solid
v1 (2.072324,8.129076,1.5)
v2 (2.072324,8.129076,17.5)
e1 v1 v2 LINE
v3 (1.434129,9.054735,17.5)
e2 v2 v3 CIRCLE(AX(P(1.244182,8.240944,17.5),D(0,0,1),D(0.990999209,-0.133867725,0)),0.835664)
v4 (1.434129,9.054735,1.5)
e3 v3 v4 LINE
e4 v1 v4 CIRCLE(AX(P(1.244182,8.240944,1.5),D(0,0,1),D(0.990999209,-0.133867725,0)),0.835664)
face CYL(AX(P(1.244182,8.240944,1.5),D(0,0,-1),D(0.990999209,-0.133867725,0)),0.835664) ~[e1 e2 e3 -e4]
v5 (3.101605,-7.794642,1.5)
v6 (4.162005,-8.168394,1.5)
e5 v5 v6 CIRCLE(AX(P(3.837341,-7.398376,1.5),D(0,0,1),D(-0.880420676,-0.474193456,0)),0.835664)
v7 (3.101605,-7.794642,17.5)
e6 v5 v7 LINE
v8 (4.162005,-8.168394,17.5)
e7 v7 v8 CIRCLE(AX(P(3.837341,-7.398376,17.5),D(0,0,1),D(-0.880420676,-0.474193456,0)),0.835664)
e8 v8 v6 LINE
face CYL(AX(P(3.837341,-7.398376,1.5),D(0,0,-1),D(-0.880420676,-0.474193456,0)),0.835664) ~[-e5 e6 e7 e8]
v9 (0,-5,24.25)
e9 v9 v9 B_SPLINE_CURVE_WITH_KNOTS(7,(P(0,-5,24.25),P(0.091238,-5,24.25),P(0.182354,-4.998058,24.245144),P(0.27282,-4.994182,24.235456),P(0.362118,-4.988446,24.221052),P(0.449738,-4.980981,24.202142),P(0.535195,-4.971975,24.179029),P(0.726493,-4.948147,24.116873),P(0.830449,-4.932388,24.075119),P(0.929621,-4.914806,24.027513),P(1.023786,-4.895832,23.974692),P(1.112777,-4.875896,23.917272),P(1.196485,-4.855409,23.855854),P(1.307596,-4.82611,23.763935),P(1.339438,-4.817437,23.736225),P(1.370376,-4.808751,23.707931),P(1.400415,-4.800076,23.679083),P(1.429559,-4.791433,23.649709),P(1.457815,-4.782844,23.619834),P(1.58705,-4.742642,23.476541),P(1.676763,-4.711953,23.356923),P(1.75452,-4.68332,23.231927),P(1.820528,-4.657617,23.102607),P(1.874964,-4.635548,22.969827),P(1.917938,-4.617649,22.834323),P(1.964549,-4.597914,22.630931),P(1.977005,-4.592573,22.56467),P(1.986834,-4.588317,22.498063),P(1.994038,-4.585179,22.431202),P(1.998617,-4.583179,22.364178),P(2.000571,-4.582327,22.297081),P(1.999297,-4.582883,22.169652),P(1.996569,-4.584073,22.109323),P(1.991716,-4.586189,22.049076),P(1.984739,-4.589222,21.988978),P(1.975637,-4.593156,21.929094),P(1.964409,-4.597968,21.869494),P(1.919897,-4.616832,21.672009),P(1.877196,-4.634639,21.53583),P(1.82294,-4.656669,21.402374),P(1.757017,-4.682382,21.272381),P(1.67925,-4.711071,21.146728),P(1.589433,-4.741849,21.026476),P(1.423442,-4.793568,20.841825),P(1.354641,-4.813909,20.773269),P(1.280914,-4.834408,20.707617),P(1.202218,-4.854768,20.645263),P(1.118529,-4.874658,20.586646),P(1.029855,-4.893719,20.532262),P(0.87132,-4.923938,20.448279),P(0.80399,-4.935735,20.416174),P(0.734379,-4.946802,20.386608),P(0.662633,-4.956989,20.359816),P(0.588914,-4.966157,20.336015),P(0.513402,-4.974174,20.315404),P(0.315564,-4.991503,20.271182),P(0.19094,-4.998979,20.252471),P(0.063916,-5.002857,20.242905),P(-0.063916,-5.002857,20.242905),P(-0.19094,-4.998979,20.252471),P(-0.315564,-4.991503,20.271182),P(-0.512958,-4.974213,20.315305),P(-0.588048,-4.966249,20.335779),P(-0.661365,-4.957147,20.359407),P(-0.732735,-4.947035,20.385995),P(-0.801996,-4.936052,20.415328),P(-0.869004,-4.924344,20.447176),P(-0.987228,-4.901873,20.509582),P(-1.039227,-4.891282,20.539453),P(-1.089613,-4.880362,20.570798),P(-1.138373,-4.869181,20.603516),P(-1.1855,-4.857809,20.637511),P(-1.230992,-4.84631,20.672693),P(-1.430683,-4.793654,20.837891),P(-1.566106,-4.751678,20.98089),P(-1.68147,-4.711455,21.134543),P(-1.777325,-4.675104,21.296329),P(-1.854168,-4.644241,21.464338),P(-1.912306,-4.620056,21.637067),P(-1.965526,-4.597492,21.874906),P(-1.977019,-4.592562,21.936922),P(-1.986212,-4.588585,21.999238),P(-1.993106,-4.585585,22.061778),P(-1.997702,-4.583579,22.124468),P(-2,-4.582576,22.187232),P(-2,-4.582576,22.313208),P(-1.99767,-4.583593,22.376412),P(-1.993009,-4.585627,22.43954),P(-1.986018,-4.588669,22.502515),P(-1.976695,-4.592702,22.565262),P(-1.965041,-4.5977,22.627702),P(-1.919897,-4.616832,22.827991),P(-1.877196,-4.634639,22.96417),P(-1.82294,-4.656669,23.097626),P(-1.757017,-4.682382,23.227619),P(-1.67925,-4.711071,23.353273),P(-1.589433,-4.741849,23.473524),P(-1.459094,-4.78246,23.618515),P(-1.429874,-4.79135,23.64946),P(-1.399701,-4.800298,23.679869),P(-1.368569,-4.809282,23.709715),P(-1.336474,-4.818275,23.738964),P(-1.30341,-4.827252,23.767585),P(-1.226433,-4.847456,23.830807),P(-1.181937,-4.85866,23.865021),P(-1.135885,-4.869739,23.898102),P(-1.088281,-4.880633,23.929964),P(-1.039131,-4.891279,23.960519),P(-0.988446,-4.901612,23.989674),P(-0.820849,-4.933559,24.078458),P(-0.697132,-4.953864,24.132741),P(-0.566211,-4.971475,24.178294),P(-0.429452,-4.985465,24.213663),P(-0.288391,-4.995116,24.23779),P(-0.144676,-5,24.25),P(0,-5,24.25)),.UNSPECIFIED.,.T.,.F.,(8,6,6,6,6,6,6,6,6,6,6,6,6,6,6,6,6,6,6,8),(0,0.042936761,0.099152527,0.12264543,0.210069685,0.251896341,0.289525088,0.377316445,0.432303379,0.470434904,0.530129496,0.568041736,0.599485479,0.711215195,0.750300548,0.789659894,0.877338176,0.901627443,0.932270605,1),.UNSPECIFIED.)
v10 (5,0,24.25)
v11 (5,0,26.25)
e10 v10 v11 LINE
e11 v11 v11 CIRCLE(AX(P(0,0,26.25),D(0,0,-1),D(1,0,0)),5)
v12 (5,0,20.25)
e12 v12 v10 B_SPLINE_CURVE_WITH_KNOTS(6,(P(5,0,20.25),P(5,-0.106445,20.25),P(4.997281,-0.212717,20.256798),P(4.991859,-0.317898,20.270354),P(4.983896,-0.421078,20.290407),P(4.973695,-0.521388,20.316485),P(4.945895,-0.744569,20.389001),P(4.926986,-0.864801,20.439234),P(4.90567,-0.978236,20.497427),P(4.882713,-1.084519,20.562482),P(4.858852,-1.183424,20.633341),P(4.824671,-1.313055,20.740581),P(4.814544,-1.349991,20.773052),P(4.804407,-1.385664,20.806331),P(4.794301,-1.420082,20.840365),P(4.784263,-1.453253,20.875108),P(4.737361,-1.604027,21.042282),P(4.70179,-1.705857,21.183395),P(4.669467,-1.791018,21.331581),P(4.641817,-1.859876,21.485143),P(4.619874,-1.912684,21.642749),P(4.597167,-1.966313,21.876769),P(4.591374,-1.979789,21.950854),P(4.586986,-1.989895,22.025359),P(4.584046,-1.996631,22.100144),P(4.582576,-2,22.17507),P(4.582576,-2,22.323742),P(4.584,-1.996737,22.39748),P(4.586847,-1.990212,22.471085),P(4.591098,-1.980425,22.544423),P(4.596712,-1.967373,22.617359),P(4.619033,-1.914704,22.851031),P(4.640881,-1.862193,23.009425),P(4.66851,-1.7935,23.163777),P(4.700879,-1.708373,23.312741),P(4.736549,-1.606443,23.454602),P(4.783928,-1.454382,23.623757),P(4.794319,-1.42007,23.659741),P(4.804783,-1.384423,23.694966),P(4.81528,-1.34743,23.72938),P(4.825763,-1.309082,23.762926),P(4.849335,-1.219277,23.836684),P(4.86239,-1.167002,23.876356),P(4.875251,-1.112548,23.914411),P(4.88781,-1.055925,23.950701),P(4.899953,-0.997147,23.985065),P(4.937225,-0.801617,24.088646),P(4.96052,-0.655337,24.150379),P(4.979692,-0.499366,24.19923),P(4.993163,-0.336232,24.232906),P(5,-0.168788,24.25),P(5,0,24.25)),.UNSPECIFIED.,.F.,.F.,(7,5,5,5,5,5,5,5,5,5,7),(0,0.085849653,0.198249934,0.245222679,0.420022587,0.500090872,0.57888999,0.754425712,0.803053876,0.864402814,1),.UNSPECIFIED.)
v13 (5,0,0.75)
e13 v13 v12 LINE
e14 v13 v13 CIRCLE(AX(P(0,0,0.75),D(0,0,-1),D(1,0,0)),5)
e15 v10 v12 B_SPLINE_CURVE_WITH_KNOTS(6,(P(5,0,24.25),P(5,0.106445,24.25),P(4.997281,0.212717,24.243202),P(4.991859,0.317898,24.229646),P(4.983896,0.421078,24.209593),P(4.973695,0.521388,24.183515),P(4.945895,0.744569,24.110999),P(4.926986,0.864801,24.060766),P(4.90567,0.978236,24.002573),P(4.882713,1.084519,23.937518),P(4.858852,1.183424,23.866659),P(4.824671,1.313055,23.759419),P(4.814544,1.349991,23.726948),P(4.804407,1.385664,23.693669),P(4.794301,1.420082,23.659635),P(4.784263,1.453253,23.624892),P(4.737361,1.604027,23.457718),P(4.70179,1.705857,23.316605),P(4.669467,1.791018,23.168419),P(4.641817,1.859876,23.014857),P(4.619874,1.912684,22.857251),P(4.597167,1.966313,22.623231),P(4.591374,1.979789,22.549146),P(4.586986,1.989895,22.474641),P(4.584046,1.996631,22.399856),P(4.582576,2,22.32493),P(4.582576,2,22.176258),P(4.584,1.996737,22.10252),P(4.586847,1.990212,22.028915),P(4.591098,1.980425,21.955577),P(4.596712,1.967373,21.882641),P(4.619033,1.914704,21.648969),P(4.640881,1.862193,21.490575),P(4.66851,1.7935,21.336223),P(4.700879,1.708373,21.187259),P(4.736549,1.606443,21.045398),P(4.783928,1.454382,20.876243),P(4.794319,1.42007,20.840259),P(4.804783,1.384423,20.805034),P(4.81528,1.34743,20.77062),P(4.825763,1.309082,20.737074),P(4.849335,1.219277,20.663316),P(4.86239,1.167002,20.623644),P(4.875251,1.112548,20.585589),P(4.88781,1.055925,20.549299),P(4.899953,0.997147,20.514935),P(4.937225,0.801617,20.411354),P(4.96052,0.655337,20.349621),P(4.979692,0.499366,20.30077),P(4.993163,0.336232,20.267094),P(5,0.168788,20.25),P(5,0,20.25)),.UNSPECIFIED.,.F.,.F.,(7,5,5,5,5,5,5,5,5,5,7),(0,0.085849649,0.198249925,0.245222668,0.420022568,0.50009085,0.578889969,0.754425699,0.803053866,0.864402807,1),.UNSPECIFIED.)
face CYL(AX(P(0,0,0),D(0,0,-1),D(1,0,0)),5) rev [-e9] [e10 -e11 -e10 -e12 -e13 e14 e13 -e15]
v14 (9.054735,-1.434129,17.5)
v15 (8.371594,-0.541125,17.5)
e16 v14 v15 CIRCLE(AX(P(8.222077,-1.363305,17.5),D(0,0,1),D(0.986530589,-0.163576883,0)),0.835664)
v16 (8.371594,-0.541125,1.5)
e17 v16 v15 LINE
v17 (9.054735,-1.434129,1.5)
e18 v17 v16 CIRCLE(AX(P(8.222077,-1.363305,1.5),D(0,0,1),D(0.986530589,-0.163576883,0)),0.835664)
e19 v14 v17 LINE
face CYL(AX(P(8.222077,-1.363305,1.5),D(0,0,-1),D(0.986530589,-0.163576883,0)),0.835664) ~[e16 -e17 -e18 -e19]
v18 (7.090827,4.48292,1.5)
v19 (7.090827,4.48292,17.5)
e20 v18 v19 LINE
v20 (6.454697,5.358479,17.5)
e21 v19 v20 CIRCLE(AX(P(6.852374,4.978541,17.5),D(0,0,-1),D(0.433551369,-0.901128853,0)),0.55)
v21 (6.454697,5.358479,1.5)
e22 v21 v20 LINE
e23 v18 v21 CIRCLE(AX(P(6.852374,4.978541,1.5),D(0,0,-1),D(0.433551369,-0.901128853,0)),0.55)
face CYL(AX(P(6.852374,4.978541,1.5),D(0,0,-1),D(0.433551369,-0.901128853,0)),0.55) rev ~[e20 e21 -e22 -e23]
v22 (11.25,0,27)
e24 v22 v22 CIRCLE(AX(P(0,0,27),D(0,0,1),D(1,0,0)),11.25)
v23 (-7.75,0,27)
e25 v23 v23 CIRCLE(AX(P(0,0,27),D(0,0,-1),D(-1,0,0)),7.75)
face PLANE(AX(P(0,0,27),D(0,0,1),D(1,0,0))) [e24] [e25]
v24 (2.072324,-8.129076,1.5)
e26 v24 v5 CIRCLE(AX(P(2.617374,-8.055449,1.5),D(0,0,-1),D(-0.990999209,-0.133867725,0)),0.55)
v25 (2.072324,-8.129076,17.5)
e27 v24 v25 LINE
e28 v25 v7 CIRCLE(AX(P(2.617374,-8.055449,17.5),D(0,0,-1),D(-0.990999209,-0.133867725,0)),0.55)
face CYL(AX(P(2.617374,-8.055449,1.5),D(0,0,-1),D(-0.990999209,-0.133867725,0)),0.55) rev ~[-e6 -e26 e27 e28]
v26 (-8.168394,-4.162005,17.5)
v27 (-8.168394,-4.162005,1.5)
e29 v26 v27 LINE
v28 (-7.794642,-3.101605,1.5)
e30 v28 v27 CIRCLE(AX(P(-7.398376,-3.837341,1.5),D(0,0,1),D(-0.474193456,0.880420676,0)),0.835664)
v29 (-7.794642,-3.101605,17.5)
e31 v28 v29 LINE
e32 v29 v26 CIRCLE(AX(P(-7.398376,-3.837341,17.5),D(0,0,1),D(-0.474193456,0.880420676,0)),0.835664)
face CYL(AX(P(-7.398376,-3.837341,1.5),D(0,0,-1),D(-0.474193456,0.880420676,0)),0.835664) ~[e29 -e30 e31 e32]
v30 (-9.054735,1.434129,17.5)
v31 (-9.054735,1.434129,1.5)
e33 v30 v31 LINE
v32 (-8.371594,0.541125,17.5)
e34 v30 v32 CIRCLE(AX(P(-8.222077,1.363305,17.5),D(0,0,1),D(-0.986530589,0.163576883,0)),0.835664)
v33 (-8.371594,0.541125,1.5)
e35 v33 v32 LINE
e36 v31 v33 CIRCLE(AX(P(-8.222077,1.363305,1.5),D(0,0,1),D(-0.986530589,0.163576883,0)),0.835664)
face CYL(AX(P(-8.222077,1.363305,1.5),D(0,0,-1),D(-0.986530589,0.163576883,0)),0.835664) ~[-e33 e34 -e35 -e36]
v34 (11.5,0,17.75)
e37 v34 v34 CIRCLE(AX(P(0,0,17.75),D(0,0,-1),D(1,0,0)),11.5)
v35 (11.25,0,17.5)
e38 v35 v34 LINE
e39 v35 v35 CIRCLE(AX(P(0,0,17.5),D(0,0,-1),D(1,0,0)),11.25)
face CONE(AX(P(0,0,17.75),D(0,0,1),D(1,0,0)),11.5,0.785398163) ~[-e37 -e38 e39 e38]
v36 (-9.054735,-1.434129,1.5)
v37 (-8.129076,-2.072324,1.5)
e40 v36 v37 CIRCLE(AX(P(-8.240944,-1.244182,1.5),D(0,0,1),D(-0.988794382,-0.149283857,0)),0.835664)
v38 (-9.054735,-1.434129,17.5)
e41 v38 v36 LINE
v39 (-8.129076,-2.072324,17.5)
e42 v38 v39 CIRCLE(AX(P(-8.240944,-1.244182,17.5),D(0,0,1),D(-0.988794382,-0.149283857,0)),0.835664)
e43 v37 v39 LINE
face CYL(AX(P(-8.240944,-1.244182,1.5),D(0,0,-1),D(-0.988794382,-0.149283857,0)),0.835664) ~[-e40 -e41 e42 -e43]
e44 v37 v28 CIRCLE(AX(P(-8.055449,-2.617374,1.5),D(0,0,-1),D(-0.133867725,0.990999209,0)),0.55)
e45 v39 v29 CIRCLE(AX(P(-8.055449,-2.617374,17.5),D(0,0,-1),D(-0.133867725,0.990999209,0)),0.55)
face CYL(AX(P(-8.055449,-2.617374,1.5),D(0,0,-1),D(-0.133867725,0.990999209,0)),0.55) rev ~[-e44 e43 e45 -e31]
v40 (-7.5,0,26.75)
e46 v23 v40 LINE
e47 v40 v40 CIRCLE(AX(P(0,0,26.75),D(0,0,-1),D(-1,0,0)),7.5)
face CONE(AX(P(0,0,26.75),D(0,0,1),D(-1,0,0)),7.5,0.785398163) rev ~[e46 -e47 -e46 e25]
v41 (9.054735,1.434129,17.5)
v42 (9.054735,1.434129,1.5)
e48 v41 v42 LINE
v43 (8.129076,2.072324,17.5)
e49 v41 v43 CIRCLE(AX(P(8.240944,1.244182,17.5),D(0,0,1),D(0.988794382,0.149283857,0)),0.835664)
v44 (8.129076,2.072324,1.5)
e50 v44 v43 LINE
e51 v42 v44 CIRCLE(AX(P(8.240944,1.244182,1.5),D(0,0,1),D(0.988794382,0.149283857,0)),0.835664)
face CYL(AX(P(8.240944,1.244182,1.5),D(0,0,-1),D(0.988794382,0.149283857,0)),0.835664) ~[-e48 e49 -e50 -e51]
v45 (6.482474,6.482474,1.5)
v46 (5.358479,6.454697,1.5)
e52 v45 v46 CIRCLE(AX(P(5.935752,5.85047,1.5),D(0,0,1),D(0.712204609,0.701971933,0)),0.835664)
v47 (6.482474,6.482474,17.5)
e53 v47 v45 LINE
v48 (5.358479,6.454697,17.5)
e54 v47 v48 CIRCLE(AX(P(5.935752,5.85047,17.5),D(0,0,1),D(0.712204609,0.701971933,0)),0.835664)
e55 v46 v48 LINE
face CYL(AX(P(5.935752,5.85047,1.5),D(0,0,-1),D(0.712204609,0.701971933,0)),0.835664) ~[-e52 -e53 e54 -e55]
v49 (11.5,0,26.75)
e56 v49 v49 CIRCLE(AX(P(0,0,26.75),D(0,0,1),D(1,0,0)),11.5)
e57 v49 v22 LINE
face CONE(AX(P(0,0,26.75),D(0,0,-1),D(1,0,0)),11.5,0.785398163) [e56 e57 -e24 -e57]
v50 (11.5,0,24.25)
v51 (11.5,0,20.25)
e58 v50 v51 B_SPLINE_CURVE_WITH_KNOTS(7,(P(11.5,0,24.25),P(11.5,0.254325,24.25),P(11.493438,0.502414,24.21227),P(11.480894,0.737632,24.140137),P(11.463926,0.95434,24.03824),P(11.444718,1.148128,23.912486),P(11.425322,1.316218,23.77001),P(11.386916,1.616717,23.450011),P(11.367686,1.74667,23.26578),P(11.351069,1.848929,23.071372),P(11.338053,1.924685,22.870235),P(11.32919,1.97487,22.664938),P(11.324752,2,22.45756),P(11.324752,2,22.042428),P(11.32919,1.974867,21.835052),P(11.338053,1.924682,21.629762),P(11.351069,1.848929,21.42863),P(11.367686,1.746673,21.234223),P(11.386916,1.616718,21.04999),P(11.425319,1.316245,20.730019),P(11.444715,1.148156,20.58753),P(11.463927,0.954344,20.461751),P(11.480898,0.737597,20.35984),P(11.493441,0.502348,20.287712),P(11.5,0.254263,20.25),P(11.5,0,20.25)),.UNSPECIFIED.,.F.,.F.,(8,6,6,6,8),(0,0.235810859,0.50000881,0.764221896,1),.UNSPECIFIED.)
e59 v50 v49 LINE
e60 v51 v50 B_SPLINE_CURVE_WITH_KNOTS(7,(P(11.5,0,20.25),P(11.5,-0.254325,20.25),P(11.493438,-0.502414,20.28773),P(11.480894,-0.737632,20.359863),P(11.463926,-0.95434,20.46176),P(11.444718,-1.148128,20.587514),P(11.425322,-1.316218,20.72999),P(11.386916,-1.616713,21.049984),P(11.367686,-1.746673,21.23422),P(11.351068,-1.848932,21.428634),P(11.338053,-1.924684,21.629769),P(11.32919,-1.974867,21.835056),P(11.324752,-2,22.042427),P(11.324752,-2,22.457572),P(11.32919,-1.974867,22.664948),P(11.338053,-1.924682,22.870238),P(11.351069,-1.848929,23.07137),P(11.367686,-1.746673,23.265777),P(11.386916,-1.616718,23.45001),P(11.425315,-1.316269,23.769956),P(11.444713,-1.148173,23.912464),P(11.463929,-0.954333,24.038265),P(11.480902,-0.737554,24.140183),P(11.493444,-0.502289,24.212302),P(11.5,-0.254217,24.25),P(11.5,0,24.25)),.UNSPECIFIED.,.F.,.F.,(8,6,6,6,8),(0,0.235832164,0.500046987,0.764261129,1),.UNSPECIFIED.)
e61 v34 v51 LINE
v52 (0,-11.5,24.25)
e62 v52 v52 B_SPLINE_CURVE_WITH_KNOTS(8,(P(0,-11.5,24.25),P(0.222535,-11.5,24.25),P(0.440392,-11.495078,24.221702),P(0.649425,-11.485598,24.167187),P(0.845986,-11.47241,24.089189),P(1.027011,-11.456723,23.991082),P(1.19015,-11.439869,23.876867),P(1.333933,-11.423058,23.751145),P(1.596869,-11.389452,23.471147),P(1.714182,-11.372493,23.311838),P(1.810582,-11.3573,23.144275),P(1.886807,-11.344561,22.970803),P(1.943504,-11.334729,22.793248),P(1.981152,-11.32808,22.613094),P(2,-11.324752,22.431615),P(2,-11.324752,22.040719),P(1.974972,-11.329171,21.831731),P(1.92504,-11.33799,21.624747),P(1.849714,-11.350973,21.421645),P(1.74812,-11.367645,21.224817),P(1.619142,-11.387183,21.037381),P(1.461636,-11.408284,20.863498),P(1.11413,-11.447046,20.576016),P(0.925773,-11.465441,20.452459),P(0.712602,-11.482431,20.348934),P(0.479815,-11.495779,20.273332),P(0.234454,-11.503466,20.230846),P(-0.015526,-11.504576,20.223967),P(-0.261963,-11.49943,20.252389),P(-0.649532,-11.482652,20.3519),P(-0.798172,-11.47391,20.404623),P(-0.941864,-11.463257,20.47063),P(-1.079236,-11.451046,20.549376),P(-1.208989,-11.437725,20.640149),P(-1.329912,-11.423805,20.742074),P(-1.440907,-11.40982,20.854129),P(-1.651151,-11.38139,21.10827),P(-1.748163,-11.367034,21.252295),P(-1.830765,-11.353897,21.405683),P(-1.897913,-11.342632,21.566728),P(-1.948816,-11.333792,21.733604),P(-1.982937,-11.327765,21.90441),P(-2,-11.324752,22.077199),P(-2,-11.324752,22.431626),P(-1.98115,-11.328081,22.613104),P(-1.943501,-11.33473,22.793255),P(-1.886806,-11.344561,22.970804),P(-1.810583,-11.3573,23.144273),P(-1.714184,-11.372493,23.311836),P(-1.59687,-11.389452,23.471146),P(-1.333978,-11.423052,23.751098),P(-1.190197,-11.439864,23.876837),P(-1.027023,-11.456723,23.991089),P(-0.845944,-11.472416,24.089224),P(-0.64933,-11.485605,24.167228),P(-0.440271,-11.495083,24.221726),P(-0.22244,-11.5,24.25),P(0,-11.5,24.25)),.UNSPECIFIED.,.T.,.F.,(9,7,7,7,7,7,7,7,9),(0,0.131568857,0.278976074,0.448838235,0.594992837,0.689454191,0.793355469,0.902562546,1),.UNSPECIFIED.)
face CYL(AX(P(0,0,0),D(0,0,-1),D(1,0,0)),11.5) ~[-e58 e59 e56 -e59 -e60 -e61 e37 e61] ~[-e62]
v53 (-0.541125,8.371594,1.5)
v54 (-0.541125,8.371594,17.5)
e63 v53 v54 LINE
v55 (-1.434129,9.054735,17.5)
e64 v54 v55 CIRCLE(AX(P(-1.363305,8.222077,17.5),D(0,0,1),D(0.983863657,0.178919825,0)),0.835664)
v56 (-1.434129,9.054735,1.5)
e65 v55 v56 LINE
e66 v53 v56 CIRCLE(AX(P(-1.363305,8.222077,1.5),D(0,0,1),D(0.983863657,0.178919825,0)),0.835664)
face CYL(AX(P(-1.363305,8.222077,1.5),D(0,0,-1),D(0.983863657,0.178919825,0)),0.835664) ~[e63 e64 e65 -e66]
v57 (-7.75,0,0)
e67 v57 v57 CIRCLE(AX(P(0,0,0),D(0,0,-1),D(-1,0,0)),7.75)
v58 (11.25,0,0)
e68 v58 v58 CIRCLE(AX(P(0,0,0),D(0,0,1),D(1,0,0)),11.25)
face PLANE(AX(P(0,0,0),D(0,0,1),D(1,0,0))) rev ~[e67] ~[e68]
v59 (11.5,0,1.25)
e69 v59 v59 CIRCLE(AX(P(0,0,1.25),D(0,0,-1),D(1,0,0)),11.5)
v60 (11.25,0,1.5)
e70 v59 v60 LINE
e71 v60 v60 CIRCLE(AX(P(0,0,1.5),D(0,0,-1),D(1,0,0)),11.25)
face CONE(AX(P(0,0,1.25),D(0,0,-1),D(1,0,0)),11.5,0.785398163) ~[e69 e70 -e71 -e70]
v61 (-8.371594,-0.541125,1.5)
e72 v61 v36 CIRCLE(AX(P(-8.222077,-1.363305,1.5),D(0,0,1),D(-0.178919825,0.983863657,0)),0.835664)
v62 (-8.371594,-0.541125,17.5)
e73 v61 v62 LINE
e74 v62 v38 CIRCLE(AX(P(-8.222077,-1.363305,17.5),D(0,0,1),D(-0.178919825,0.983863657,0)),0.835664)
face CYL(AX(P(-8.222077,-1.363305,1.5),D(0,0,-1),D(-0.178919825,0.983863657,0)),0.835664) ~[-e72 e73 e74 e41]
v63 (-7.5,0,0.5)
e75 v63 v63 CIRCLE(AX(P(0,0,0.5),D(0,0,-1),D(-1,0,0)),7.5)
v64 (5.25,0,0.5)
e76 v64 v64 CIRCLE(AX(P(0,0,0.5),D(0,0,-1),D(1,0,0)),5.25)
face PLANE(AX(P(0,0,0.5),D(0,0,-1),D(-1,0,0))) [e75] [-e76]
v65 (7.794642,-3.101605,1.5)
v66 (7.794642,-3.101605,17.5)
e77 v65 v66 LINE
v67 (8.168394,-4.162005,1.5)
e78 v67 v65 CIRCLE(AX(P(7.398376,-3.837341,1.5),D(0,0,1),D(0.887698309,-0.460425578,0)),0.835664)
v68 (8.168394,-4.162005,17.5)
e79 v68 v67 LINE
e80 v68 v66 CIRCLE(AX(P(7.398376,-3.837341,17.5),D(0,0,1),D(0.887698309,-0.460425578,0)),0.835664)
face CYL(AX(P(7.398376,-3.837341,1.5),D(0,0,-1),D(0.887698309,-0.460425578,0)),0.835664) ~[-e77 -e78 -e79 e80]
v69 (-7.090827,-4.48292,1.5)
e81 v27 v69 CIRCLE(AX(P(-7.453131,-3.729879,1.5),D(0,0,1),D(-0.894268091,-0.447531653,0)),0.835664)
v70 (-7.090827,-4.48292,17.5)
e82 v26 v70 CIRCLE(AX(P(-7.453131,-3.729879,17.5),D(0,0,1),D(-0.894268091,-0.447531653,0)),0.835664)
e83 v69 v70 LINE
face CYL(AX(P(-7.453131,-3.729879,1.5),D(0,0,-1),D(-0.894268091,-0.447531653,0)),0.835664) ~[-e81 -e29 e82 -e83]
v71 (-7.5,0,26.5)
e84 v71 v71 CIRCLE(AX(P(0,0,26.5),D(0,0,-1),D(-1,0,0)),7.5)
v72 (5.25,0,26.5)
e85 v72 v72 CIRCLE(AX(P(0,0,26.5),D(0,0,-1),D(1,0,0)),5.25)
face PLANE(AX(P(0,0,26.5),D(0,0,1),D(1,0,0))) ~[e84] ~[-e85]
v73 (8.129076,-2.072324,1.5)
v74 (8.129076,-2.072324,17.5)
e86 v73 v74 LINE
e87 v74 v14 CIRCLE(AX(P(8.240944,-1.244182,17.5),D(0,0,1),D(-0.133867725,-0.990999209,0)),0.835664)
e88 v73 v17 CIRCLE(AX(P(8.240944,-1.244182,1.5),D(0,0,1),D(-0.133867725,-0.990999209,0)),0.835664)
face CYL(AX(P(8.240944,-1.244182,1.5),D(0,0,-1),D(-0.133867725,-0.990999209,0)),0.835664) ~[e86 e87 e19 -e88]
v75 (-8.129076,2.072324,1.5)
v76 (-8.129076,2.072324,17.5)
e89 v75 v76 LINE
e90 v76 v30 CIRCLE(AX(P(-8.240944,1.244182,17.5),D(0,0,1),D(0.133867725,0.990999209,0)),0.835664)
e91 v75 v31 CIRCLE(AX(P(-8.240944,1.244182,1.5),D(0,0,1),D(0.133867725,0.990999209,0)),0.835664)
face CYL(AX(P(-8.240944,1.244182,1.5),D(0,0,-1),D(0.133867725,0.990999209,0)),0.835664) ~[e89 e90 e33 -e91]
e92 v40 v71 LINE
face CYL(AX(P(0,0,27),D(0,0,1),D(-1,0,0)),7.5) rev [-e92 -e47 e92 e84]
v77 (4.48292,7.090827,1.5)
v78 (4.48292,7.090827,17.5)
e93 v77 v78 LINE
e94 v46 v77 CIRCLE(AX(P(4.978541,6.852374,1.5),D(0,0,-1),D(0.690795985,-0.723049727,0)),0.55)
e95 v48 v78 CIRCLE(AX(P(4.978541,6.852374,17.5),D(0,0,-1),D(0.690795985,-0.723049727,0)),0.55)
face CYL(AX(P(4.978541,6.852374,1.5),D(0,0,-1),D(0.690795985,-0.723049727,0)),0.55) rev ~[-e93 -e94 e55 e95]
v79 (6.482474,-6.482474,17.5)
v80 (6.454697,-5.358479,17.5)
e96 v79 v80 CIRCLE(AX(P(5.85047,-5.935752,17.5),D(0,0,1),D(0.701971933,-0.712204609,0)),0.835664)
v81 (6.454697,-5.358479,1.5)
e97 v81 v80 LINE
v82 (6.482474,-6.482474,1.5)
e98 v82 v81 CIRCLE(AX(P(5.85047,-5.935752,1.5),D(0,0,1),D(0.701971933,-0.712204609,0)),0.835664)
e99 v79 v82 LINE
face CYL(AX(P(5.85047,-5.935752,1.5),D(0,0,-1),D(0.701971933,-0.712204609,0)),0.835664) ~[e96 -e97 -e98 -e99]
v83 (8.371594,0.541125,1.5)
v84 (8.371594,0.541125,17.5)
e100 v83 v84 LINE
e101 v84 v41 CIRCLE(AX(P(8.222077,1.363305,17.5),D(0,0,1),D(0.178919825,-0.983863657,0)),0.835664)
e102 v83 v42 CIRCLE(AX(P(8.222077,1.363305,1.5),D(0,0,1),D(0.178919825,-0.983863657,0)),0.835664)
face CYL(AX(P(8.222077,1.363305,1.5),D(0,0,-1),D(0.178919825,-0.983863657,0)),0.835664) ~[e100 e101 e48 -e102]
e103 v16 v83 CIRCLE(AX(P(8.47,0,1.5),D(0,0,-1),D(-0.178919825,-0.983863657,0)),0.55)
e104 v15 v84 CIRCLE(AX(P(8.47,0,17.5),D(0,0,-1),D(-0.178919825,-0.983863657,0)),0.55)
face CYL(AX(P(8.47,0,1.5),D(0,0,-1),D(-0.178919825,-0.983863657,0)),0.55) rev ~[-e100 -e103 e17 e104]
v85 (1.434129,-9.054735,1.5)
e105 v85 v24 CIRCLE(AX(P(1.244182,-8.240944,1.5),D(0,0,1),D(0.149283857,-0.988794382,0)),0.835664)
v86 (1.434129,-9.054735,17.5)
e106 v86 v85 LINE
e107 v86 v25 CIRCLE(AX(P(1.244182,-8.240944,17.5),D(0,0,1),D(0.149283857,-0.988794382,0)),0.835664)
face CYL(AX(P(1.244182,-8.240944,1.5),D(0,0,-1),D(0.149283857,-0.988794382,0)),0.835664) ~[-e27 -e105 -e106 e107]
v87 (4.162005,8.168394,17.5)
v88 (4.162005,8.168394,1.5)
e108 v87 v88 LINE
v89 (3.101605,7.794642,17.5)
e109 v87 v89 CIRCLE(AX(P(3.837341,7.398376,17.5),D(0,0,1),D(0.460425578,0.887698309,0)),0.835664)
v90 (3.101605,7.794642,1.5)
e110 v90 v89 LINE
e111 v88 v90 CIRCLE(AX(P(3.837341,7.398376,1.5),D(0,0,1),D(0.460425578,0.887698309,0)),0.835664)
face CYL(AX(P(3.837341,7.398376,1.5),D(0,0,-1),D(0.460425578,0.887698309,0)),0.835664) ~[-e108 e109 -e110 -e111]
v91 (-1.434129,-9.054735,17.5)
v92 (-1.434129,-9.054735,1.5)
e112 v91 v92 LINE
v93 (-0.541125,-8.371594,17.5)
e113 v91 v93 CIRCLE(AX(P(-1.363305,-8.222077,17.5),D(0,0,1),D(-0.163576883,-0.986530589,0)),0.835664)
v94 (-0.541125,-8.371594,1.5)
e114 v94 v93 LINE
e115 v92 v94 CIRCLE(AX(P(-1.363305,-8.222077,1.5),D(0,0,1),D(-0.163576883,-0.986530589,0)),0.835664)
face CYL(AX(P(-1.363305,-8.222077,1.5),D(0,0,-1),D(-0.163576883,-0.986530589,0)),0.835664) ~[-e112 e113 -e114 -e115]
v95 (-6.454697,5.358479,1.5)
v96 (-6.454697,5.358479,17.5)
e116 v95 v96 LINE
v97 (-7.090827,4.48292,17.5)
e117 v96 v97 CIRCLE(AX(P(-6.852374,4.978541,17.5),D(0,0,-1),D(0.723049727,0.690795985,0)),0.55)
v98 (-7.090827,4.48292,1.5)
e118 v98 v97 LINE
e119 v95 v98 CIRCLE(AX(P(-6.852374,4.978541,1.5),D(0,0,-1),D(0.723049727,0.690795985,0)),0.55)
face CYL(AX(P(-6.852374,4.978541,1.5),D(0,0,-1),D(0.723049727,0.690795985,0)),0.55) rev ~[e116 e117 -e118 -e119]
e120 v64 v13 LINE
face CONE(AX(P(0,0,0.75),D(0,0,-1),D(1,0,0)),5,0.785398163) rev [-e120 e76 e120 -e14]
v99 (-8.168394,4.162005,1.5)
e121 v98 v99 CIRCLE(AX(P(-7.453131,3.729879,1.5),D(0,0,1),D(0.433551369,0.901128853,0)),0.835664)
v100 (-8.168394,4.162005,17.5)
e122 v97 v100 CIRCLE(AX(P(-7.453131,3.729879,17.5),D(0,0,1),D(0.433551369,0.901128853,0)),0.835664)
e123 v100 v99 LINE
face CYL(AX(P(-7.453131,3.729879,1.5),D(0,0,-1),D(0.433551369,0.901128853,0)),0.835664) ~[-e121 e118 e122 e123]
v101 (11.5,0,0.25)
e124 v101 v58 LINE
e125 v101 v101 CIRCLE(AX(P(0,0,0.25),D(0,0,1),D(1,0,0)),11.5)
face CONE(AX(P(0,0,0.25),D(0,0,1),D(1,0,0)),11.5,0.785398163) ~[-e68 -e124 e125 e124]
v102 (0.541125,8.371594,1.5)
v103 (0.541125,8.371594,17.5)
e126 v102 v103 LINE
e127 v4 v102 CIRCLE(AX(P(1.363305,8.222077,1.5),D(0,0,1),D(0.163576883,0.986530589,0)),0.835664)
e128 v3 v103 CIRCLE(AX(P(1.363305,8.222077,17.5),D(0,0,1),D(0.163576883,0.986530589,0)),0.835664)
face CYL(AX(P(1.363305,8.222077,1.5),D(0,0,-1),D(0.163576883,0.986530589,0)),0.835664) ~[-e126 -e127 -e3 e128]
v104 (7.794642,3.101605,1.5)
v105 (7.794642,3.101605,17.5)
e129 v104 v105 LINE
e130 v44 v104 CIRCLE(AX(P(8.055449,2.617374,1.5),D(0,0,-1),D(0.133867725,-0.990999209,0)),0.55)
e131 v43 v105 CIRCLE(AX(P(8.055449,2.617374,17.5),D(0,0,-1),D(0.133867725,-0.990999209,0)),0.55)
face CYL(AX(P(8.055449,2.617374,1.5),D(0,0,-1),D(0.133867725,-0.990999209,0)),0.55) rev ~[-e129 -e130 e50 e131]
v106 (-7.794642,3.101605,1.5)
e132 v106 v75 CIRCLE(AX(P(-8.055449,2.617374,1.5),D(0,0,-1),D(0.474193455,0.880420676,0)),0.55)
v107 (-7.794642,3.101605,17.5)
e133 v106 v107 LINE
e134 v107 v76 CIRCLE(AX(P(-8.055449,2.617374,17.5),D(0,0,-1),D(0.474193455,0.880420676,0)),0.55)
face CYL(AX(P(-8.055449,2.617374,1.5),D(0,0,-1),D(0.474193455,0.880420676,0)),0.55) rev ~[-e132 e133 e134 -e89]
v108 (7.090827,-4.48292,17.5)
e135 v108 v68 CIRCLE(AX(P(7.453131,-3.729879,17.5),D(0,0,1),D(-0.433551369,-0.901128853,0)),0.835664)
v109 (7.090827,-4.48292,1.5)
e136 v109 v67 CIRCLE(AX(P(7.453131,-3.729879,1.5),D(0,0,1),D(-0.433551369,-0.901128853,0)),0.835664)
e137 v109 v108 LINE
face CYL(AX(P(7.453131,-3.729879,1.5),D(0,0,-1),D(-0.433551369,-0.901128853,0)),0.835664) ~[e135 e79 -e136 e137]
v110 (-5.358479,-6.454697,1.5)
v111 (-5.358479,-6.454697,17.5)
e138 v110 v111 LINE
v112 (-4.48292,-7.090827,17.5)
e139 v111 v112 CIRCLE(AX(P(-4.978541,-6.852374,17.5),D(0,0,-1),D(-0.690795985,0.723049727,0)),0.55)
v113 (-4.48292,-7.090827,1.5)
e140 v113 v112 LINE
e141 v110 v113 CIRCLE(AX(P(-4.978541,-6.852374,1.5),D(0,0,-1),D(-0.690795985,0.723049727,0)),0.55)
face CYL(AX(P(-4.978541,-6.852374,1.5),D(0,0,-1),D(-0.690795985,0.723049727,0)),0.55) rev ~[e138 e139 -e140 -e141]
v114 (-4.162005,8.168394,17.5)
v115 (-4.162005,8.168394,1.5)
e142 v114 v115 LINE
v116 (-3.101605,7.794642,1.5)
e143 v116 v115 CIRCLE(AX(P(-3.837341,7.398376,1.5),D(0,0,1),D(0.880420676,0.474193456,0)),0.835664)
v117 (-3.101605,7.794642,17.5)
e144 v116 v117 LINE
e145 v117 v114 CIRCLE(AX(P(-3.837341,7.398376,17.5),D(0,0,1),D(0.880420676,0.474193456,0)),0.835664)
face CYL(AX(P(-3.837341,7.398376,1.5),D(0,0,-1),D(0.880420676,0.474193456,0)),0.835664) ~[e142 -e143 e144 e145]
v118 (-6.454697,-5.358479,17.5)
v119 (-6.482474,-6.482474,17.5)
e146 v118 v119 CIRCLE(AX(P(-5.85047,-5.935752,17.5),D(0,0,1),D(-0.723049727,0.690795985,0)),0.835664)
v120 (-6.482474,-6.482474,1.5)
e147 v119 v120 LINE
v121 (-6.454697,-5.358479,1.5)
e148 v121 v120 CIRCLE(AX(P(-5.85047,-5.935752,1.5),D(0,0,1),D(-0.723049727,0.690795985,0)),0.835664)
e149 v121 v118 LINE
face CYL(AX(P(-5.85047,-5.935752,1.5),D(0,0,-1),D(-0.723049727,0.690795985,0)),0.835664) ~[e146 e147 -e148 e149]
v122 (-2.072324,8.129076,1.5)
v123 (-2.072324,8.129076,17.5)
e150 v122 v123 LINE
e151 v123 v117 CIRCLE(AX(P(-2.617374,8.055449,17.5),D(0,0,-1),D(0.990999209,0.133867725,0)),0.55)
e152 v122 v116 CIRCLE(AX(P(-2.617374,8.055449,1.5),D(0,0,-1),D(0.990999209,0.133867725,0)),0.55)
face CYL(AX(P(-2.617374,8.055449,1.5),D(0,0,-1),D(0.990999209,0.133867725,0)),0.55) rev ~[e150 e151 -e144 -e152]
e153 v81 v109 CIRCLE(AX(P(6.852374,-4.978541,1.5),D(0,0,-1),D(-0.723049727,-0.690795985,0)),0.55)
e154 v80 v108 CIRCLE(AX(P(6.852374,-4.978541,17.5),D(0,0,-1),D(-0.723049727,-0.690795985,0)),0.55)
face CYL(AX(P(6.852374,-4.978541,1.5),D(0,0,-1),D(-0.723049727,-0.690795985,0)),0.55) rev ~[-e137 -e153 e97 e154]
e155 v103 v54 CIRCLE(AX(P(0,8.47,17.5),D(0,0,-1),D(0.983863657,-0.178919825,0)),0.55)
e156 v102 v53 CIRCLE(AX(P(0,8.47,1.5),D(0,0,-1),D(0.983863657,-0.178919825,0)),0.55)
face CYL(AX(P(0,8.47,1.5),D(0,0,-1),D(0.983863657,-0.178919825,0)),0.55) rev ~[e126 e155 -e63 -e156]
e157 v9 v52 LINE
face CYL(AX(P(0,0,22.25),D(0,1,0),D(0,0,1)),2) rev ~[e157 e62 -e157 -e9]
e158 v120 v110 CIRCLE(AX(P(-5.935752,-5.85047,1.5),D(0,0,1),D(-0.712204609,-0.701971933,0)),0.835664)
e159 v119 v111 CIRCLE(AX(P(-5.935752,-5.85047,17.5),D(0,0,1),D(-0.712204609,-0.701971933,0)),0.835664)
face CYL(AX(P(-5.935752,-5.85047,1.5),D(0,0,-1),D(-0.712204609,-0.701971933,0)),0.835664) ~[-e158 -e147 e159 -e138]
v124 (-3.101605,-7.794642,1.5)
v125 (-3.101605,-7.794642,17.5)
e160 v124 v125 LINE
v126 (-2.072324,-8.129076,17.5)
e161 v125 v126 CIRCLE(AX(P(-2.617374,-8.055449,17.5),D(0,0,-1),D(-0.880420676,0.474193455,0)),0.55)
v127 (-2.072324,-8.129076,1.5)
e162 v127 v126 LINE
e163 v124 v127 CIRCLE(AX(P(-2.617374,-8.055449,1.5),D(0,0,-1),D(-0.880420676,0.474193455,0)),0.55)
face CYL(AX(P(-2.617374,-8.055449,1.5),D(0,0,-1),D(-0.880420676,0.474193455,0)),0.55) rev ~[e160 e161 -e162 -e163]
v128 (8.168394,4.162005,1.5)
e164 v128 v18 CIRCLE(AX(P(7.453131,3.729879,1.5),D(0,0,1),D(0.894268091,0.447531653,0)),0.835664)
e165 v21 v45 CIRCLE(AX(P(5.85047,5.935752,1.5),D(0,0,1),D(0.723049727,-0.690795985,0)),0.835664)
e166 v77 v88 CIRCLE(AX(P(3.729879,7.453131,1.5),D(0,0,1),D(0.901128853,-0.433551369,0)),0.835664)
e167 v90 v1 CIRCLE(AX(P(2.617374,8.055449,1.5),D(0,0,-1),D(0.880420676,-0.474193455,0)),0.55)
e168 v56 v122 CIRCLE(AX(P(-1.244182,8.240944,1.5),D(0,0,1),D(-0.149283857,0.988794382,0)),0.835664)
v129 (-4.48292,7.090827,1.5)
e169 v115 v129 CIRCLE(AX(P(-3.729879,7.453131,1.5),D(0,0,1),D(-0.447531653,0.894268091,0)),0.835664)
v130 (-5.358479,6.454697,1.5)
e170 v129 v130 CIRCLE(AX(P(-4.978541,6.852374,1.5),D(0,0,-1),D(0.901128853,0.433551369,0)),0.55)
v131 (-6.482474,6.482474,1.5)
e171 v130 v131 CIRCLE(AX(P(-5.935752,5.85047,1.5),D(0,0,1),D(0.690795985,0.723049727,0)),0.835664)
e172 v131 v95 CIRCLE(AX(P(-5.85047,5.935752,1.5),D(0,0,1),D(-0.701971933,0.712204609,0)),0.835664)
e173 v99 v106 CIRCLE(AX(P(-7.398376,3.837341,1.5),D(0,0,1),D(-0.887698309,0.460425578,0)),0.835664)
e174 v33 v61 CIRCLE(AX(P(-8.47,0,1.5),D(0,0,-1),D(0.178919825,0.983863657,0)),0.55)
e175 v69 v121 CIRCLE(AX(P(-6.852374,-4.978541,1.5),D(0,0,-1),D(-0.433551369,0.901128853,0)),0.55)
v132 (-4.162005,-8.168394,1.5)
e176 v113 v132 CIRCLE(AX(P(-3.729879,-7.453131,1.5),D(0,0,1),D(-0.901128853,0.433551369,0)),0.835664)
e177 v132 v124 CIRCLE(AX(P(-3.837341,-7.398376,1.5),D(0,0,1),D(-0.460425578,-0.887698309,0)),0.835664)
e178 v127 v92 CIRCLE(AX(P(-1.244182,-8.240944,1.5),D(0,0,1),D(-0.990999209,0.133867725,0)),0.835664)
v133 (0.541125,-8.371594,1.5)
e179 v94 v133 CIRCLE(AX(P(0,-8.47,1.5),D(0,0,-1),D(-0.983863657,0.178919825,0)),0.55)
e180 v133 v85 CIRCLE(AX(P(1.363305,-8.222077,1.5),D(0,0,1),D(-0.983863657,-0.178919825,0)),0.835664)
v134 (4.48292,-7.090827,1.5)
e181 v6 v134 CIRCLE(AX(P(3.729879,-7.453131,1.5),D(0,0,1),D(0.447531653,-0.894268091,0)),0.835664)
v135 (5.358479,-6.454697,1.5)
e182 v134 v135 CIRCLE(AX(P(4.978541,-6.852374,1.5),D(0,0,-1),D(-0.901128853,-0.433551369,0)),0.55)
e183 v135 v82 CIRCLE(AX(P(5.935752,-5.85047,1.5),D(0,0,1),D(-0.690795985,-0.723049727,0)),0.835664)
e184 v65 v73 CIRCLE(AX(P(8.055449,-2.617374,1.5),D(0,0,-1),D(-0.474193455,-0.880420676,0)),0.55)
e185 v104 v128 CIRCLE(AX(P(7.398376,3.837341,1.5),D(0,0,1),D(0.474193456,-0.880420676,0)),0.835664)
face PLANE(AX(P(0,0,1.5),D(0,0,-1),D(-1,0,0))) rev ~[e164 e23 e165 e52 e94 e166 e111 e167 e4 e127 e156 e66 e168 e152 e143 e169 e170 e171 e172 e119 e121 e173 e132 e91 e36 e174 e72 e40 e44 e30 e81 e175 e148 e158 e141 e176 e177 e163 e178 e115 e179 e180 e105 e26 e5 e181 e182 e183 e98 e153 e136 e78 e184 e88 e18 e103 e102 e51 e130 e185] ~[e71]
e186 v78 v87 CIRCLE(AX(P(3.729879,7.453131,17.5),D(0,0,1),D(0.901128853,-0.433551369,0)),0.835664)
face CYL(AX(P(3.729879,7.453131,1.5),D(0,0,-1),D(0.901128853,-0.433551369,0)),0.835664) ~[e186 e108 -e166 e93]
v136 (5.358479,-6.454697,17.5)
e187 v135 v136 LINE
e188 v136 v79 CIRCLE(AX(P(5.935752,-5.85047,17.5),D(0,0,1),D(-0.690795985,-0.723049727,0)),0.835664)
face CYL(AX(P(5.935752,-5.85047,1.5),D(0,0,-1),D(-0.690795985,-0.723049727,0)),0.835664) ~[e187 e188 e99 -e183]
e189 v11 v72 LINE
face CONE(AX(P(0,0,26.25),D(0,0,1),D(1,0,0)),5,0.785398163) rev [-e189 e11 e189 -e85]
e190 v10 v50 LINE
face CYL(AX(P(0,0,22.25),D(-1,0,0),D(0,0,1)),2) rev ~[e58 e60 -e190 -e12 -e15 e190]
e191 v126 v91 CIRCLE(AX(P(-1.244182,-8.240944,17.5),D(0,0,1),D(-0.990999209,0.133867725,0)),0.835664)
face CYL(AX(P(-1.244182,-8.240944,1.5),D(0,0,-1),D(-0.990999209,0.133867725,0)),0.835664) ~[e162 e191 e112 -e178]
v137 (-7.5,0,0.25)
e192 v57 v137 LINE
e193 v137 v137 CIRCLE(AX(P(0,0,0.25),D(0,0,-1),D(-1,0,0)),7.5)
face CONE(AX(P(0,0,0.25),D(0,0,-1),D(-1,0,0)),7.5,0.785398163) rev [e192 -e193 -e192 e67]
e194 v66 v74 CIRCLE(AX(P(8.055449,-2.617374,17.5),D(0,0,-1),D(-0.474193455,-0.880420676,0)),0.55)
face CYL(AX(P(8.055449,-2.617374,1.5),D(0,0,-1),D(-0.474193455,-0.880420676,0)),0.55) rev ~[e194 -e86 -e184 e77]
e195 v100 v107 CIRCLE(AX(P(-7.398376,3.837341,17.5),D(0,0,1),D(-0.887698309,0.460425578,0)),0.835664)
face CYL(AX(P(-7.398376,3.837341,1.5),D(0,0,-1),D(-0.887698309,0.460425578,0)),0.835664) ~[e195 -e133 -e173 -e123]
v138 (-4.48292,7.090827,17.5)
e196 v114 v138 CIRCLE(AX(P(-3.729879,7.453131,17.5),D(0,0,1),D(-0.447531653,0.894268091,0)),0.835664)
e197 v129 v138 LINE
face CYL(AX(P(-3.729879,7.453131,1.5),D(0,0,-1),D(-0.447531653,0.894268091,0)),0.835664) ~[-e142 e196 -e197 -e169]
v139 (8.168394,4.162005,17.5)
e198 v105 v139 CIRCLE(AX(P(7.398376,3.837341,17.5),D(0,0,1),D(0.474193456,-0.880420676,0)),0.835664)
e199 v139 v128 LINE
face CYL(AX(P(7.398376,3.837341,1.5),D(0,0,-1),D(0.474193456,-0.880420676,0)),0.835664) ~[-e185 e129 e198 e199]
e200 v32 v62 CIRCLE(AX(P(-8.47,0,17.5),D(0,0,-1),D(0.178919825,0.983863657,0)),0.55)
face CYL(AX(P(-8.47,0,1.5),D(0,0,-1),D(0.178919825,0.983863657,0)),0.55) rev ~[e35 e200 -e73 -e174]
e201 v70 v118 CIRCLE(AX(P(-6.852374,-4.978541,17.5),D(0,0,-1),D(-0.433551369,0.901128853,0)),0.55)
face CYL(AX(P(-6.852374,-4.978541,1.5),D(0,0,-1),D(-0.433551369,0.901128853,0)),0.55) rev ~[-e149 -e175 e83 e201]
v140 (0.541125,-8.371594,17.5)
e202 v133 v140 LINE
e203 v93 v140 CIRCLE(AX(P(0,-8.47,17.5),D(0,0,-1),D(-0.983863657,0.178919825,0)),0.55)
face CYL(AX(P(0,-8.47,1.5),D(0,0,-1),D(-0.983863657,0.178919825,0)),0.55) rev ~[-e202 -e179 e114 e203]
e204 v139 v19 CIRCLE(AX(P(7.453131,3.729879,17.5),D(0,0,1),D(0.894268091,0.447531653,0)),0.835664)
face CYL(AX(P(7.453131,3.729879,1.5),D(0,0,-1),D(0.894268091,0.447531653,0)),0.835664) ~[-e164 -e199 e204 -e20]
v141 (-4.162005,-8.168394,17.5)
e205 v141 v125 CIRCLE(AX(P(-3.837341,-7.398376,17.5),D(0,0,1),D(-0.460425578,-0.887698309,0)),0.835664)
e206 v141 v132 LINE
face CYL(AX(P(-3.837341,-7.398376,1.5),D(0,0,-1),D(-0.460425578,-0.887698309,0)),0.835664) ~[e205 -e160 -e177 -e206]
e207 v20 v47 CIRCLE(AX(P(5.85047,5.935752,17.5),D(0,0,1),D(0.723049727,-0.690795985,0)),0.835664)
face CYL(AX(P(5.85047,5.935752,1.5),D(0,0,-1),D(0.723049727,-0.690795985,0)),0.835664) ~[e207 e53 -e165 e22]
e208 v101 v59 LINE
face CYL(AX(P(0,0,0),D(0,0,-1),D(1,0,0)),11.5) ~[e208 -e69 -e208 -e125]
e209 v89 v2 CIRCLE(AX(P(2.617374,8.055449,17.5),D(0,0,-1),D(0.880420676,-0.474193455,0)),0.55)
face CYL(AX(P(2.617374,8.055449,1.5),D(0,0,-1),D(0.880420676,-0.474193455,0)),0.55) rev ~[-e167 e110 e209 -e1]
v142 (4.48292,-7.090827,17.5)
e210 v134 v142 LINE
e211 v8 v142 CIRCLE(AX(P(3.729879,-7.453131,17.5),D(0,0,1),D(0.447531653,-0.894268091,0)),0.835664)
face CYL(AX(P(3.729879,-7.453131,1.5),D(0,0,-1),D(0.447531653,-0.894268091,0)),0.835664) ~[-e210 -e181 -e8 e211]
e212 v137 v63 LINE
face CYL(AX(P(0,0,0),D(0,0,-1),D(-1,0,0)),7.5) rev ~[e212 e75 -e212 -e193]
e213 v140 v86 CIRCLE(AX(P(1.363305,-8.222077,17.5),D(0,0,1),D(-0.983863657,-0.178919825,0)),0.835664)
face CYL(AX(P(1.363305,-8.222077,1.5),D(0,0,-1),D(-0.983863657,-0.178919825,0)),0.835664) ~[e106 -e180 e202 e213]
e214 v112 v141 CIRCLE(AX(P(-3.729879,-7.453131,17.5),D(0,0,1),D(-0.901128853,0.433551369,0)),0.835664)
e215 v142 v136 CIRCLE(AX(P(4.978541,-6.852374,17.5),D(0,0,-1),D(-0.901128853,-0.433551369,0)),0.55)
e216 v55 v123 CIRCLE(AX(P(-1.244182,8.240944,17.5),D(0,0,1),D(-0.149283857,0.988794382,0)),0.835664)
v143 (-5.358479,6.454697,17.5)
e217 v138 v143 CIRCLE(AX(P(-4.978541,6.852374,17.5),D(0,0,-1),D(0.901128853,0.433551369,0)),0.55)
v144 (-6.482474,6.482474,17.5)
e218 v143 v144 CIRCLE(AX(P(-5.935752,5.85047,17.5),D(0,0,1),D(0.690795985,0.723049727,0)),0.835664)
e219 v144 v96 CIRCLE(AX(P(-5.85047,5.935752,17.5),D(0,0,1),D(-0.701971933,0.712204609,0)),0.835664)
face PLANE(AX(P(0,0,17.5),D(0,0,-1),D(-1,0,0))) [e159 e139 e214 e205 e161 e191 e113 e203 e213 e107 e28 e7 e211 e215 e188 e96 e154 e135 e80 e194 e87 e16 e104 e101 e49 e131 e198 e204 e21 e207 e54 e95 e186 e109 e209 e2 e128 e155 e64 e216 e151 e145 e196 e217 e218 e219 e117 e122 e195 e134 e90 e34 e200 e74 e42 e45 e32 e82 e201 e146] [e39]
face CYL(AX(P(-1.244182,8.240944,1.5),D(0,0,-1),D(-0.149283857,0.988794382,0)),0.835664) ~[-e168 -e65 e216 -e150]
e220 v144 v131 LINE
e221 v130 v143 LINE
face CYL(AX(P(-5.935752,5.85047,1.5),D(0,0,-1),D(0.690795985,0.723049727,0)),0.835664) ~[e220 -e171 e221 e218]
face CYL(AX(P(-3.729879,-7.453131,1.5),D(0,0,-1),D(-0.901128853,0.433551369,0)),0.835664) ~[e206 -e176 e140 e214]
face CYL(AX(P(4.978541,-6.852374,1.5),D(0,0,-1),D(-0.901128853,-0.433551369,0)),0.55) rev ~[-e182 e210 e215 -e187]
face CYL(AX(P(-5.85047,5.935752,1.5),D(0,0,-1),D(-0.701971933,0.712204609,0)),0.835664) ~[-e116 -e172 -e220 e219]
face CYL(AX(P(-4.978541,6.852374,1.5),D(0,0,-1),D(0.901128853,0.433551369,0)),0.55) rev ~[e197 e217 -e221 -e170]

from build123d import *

# Parameters (mm, degrees)
ESQUISSE1_R                  = 11.5
ESQUISSE1_R_2                = 5
BOSS_EXTRU_1_DEPTH           = 27
ESQUISSE2_R                  = 11.5
ESQUISSE2_R_2                = 9.17
ENL_V_MAT_EXTRU_1_DEPTH      = 16
ENL_V_START                  = 16
ENL_V_MAT_EXTRU_2_DEPTH      = 16
R_P_TITION_CIRCULAIRE1_COUNT = 20
ESQUISSE4_R                  = 2
ENL_V_MAT_EXTRU_3_DEPTH      = 16
R_P_TITION_CIRCULAIRE2_COUNT = 2
R_P_TITION_CIRCULAIRE2_ANGLE = 90
ESQUISSE5_R                  = 7.5
ENL_V_MAT_EXTRU_4_DEPTH      = 0.5
CHANFREIN1_SIZE              = 0.25


with BuildPart() as part:
    # Esquisse1 → Boss.-Extru.1 (new body)
    with BuildSketch(Plane.XY):
        Circle(ESQUISSE1_R)
        Circle(ESQUISSE1_R_2, mode=Mode.SUBTRACT)
    extrude(amount=BOSS_EXTRU_1_DEPTH)

    # Esquisse2 → Enlèv. mat.-Extru.1 (cut)
    with BuildSketch(Plane(origin=(0, 0, 1.5), x_dir=(-1, 0, 0), z_dir=(0, 0, -1))):
        Circle(ESQUISSE2_R)
        Circle(ESQUISSE2_R_2, mode=Mode.SUBTRACT)
    extrude(amount=-ENL_V_MAT_EXTRU_1_DEPTH, mode=Mode.SUBTRACT)

    # Esquisse3 → Enlèv. mat.-Extru.2 (cut)
    with BuildSketch(Plane(origin=(0, 0, 17.5), x_dir=(-1, 0, 0), z_dir=(0, 0, -1)).offset(ENL_V_START)):
        with BuildLine():
            ThreePointArc((-1.5, 9.046485505), (-0.88232463, 8.905445978), (-0.541125011, 8.371594096))
            ThreePointArc((-0.541125011, 8.371594096), (0, 7.92), (0.541125011, 8.371594096))
            ThreePointArc((0.541125011, 8.371594096), (0.88232463, 8.905445978), (1.5, 9.046485505))
            ThreePointArc((1.5, 9.046485505), (0, 9.17), (-1.5, 9.046485505))
        make_face()
    enl_v_mat_extru_2 = extrude(amount=-ENL_V_MAT_EXTRU_2_DEPTH, mode=Mode.SUBTRACT)

    # Répétition circulaire1: Enlèv. mat.-Extru.2 ×20 about axis
    r_p_tition_circulaire1_axis = Axis((0, 0, 0), (0, 0, 1))
    for i in range(1, R_P_TITION_CIRCULAIRE1_COUNT):
        add(enl_v_mat_extru_2.rotate(r_p_tition_circulaire1_axis, i * 360 / R_P_TITION_CIRCULAIRE1_COUNT), mode=Mode.SUBTRACT)

    # Esquisse4 → Enlèv. mat.-Extru.3 (cut)
    with BuildSketch(Plane(origin=(0, 0, 0), x_dir=(1, 0, 0), z_dir=(0, 1, 0))):
        with Locations(Location((0, -22.25, 0), (0, 0, 270))):
            Circle(ESQUISSE4_R)
    enl_v_mat_extru_3 = extrude(amount=-ENL_V_MAT_EXTRU_3_DEPTH, mode=Mode.SUBTRACT)

    # Répétition circulaire2: Enlèv. mat.-Extru.3 ×2 about axis
    r_p_tition_circulaire2_axis = Axis((0, 0, 27), (0, 0, 1))
    for i in range(1, R_P_TITION_CIRCULAIRE2_COUNT):
        add(enl_v_mat_extru_3.rotate(r_p_tition_circulaire2_axis, i * R_P_TITION_CIRCULAIRE2_ANGLE / (R_P_TITION_CIRCULAIRE2_COUNT - 1)), mode=Mode.SUBTRACT)

    # Esquisse5 → Enlèv. mat.-Extru.4 (cut)
    with BuildSketch(Plane(origin=(0, 0, 0), x_dir=(-1, 0, 0), z_dir=(0, 0, -1))):
        Circle(ESQUISSE5_R)
    enl_v_mat_extru_4 = extrude(amount=-ENL_V_MAT_EXTRU_4_DEPTH, mode=Mode.SUBTRACT)

    # Symétrie1: Enlèv. mat.-Extru.4 across plane
    add(enl_v_mat_extru_4.mirror(Plane(origin=(0, 0, 13.5), x_dir=(1, 0, 0), z_dir=(0, 0, -1))), mode=Mode.SUBTRACT)

    # Chanfrein1
    chanfrein1_edges = [part.edges().sort_by_distance(p)[0] for p in [
        (-11.5, 0, 17.5),
        (-11.5, 0, 1.5),
        (-5, 0, 0.5),
        (7.5, 0, 0),
        (-11.5, 0, 0),
        (7.5, 0, 27),
        (-5, 0, 26.5),
        (-11.5, 0, 27),
    ]]
    chamfer(chanfrein1_edges, length=CHANFREIN1_SIZE)


solid = part.part
